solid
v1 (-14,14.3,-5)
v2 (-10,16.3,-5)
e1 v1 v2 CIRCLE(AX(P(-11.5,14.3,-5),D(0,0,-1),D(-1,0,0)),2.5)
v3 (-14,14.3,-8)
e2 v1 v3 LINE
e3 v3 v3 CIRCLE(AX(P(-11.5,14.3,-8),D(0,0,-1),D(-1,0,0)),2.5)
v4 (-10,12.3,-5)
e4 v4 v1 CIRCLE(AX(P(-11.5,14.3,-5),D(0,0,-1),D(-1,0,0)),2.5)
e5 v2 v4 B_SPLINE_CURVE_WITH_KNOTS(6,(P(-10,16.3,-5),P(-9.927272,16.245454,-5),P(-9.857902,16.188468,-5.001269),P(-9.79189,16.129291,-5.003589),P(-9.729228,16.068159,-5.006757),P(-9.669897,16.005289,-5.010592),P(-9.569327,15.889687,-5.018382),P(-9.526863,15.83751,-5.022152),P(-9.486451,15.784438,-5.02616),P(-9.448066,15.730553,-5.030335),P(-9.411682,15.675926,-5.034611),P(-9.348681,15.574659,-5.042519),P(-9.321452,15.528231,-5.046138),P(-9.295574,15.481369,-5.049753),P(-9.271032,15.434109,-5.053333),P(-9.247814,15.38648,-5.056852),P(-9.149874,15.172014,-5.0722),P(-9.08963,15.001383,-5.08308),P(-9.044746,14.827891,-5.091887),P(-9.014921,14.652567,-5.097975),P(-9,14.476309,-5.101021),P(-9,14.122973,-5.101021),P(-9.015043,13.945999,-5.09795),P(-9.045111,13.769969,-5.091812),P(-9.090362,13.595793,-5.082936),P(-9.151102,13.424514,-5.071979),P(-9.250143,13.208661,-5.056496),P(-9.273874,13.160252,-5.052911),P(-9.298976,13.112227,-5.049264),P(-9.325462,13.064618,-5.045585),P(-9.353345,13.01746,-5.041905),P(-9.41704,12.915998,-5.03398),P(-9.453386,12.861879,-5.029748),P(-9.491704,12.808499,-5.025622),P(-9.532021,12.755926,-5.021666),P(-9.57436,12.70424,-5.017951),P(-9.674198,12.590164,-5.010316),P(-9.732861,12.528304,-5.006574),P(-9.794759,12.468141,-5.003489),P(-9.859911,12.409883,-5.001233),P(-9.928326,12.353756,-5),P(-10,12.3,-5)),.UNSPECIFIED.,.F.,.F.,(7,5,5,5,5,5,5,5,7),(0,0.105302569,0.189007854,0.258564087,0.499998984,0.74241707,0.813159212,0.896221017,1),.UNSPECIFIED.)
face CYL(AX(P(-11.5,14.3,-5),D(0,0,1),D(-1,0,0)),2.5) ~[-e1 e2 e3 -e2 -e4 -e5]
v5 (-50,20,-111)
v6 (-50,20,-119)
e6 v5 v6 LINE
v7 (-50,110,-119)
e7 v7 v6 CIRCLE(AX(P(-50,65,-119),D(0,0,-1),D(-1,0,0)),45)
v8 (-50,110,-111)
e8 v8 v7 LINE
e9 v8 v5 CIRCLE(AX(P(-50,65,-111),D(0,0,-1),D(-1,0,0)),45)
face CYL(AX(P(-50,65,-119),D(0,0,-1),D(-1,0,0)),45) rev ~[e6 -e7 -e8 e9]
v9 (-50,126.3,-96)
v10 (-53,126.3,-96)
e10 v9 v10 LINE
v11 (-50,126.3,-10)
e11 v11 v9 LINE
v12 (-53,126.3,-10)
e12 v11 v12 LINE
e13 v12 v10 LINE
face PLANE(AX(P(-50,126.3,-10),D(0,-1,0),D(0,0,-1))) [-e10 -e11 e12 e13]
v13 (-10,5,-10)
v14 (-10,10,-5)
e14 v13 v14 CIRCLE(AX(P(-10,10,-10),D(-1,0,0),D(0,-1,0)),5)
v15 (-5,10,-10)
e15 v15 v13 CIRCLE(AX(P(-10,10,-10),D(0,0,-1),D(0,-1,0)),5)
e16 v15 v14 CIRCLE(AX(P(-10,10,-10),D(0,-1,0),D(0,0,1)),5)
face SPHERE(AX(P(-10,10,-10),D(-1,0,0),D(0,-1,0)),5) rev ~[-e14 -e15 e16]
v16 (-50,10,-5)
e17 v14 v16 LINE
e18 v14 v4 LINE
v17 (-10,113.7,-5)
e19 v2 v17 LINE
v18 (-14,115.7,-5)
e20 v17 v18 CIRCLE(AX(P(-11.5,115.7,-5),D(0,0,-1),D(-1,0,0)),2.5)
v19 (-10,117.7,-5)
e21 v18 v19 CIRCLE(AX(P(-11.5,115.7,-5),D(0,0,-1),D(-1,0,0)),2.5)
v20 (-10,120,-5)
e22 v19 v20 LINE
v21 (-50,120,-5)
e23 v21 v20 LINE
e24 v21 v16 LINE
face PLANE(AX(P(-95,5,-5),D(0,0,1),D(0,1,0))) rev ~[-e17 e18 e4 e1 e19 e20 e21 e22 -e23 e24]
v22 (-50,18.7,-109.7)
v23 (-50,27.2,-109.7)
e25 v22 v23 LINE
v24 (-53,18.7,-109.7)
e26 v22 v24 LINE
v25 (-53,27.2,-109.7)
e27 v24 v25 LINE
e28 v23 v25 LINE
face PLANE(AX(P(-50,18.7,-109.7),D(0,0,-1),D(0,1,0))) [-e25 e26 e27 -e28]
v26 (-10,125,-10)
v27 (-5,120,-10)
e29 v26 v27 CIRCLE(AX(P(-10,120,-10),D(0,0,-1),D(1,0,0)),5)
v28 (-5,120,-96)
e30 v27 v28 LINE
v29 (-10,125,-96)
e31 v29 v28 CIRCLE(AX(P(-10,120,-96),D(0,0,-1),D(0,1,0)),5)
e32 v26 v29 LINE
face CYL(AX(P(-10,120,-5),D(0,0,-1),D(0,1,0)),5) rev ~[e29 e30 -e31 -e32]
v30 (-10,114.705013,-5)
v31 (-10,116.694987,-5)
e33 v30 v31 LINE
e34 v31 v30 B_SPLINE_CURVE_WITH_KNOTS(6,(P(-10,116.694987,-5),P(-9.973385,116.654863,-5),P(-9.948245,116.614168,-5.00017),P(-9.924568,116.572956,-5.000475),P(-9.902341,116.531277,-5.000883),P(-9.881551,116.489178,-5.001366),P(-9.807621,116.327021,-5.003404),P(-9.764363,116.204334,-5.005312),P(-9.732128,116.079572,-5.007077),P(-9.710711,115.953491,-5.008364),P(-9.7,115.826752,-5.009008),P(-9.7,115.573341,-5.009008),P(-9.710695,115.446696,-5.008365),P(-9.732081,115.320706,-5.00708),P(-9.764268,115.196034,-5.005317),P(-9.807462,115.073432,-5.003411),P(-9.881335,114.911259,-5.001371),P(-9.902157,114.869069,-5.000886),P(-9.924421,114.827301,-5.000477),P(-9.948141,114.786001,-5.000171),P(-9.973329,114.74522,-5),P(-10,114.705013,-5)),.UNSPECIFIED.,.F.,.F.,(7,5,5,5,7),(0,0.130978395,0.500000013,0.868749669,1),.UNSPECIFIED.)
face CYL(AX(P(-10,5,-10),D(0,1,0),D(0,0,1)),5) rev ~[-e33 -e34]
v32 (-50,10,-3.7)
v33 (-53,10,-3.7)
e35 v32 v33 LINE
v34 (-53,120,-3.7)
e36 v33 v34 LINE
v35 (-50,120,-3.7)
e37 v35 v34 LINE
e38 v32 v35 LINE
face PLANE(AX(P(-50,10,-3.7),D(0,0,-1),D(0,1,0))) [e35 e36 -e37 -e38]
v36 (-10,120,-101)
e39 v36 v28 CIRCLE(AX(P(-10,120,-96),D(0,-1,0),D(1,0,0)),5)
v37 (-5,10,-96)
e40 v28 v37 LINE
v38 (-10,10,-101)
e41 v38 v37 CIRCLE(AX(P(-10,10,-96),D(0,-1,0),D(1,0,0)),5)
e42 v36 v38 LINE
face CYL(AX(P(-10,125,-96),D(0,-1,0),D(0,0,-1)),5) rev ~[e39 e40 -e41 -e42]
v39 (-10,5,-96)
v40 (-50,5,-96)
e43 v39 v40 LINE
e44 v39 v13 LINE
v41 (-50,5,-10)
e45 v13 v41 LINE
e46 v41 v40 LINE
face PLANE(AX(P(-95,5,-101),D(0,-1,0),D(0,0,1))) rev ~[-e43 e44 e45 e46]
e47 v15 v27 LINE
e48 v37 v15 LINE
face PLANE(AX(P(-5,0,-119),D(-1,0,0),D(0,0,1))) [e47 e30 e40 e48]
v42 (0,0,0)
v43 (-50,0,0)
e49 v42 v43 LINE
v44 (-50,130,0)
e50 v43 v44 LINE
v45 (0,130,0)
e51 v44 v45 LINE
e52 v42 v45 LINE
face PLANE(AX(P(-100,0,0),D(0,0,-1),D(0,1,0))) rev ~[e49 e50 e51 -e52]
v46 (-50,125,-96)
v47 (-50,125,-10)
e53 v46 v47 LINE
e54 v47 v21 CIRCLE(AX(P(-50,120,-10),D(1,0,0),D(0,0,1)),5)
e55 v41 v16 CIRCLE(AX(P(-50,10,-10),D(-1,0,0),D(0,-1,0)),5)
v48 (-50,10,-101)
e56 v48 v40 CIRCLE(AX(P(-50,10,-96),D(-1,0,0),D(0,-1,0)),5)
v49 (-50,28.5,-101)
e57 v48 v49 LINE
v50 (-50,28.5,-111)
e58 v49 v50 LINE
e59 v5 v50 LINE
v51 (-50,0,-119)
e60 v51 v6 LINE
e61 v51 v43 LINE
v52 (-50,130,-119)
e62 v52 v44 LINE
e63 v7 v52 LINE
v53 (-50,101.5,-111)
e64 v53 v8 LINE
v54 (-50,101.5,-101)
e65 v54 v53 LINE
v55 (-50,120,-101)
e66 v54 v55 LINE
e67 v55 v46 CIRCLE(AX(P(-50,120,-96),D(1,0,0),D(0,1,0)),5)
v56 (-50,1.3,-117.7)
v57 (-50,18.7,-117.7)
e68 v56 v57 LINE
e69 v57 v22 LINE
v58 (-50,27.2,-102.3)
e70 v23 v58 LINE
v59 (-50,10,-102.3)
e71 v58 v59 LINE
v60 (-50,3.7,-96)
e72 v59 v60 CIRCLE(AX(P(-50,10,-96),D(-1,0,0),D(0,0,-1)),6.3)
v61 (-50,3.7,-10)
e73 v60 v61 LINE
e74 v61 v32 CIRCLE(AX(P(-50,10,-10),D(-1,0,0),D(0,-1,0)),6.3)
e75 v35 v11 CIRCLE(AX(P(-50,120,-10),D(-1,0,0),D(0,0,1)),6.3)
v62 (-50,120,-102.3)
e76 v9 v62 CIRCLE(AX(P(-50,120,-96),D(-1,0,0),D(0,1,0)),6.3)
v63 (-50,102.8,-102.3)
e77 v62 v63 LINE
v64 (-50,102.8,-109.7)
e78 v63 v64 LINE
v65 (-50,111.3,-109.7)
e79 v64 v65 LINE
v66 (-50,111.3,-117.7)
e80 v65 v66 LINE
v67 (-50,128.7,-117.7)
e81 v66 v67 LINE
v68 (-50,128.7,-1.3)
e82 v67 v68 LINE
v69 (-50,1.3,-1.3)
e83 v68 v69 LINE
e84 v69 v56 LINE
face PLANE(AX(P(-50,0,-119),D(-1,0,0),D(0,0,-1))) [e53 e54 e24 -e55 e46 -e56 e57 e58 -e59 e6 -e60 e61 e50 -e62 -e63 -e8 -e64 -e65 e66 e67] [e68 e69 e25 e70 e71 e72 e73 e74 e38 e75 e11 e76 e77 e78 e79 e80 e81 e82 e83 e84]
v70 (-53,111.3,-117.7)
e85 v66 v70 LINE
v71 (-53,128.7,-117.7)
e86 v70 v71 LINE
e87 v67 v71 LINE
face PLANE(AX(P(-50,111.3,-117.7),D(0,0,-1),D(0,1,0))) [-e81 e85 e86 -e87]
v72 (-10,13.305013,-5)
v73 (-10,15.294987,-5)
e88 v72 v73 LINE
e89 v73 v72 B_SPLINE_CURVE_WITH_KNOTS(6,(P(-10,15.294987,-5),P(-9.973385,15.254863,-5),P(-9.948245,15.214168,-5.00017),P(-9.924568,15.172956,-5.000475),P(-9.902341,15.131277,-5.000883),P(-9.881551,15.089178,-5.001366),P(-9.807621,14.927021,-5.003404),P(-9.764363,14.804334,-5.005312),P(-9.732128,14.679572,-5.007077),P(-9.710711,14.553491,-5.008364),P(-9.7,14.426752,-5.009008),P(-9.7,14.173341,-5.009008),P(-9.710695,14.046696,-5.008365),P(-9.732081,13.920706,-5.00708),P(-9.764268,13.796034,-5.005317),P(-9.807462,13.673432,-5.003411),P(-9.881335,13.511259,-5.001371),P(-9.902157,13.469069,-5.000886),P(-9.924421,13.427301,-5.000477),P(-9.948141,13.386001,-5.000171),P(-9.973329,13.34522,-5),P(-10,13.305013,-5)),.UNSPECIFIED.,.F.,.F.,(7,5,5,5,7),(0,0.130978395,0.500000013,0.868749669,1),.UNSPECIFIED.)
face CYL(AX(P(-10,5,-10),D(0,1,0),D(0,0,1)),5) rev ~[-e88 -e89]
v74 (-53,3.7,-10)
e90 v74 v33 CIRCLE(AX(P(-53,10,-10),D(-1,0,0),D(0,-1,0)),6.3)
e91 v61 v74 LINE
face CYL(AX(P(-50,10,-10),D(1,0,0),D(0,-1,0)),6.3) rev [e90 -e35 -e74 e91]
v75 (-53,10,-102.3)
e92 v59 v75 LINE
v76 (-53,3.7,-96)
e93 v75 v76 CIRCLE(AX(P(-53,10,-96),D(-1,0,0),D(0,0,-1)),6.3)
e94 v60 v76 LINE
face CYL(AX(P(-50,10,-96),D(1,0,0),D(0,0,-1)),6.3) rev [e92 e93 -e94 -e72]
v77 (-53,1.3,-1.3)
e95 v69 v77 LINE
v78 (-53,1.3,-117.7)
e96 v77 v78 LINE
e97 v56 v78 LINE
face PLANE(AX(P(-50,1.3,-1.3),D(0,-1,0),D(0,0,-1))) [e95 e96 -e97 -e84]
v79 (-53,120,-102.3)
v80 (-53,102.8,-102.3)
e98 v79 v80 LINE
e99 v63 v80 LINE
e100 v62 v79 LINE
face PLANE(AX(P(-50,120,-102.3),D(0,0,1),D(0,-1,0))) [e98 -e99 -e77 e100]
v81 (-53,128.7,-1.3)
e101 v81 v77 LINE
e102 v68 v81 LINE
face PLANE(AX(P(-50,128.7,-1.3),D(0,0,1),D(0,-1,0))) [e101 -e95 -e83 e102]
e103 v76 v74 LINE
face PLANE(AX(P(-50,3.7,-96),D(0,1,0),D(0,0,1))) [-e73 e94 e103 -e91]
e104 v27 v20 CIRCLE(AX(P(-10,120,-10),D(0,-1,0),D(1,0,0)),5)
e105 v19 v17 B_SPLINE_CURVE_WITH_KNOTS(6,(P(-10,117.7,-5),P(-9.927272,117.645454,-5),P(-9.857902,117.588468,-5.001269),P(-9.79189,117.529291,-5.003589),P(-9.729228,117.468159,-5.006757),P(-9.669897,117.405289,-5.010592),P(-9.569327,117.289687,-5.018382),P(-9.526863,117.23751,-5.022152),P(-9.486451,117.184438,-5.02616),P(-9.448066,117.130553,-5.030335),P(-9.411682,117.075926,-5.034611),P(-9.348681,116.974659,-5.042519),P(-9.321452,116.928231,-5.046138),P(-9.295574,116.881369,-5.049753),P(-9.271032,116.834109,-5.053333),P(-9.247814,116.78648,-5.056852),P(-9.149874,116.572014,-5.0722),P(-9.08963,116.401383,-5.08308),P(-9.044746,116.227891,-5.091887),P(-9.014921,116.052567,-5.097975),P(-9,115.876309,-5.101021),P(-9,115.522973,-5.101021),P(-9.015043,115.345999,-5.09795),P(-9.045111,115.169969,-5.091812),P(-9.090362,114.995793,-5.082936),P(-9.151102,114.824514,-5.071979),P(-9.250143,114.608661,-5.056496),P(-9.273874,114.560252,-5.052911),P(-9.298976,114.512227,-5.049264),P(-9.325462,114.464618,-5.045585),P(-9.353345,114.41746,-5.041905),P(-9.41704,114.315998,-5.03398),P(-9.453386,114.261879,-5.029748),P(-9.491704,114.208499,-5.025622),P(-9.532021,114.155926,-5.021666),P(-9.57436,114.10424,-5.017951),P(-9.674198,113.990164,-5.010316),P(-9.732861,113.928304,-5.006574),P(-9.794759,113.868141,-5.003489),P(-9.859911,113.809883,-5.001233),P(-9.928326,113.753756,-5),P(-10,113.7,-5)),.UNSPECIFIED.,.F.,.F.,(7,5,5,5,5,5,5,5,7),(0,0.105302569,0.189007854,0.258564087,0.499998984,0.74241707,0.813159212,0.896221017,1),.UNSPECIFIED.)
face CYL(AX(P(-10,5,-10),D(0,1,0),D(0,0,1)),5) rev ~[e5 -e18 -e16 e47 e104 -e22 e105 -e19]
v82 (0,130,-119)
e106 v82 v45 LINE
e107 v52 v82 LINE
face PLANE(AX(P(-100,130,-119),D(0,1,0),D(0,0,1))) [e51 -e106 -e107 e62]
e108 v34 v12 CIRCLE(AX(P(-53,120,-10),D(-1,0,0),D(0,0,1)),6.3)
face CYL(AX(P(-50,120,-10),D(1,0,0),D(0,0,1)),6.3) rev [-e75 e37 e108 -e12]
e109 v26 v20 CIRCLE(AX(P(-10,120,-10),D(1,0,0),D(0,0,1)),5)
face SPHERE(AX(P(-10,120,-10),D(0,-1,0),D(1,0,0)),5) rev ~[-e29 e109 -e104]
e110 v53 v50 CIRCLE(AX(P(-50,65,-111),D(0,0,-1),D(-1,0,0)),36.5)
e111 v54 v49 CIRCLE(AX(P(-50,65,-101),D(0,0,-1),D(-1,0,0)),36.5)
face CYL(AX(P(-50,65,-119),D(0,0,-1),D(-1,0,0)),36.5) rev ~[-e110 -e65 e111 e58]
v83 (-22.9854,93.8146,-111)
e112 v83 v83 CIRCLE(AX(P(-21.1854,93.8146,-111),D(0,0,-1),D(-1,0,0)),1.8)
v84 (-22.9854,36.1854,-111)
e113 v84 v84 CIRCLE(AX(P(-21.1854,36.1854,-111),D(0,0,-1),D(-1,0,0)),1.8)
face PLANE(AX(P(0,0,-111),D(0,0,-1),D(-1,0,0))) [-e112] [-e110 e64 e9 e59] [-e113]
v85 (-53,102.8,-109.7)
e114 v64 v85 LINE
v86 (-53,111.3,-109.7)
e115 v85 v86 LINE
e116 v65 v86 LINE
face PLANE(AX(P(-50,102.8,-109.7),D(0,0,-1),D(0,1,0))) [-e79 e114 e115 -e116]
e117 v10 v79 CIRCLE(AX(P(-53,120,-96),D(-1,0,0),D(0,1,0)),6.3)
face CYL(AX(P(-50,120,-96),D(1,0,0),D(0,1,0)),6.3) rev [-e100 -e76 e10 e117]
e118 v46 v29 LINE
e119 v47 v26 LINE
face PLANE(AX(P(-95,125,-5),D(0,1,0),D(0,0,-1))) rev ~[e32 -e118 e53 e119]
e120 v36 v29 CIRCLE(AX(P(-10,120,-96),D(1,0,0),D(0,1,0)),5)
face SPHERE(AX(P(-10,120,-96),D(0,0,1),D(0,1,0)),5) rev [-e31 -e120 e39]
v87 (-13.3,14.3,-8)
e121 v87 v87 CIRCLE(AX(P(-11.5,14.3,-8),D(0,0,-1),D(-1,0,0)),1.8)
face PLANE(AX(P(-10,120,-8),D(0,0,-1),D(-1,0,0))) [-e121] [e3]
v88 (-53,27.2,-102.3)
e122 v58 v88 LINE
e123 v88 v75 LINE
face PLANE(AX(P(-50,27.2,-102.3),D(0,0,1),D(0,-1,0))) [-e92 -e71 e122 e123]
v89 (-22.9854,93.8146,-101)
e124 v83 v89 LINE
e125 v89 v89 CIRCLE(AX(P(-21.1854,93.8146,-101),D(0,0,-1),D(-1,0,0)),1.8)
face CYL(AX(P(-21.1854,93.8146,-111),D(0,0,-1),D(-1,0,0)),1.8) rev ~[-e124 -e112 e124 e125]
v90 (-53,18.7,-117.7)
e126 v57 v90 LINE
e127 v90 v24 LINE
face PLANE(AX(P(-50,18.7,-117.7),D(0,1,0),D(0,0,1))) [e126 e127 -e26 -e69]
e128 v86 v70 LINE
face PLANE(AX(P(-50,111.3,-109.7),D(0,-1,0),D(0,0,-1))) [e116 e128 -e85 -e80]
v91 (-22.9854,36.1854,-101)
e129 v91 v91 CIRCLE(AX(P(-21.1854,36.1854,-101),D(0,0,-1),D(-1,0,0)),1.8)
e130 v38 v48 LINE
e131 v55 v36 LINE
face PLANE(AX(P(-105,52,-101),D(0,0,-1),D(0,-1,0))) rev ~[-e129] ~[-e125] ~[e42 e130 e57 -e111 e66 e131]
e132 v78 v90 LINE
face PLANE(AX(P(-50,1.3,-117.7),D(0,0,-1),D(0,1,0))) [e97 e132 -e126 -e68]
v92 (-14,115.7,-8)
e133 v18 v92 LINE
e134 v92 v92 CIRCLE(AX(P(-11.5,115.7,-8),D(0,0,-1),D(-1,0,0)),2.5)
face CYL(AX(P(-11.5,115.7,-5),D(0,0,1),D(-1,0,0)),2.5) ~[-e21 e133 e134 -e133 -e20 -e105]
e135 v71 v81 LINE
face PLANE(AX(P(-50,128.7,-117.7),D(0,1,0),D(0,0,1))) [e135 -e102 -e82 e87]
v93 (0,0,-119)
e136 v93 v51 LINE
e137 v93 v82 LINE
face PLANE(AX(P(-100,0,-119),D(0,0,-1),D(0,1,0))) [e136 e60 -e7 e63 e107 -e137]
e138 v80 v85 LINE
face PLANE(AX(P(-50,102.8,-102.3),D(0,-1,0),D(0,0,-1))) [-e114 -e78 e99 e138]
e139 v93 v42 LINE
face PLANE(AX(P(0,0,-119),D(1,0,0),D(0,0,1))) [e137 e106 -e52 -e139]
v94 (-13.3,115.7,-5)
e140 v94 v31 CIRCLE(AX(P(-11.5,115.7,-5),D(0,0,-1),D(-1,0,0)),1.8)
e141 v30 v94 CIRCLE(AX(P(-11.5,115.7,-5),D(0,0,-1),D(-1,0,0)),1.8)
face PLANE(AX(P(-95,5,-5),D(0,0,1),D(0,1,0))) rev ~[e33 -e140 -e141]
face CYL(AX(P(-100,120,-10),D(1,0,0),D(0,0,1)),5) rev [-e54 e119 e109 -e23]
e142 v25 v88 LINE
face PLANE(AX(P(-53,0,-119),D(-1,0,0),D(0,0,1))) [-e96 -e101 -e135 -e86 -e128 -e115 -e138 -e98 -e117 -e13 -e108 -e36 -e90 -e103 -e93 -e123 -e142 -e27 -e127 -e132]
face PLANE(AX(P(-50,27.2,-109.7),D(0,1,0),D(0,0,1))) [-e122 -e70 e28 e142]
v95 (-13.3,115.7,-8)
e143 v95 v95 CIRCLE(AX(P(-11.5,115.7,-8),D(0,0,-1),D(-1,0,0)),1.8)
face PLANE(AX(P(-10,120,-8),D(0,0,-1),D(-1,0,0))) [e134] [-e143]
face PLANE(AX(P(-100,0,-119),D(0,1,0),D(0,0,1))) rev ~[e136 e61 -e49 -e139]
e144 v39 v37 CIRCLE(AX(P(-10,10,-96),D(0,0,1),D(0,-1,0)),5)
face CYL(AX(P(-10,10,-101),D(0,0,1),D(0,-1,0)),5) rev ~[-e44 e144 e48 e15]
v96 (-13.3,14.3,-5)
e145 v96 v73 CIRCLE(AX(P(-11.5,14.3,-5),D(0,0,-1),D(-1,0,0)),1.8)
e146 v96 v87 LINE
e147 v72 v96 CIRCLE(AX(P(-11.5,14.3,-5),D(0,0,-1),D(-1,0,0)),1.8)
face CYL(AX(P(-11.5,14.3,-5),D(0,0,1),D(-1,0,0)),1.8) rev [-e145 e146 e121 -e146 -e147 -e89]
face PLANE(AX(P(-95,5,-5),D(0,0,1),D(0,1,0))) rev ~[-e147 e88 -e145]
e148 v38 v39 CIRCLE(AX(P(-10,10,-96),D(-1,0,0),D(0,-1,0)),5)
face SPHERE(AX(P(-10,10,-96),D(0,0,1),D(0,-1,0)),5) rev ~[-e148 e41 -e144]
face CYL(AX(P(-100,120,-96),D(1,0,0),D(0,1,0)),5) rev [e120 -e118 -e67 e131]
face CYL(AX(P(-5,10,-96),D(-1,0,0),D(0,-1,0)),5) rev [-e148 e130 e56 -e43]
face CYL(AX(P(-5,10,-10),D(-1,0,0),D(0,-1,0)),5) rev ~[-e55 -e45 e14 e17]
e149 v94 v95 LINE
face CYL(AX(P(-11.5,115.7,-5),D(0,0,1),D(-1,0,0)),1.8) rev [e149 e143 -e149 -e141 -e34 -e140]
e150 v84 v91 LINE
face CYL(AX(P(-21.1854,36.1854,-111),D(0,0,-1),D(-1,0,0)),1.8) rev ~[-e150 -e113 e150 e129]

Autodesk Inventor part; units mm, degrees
ref_plane "YZ Plane" through (0, 0, 0) normal (1, 0, 0) x (0, 1, 0)
sketch "Sketch1" plane through (0, 0, 0) normal (0, 1, 0) x (-1, 0, 0)
  line L0 (0, 0) -> (100, 0)
  line L1 (100, 0) -> (100, -119)
  line L2 (100, -119) -> (0, -119)
  line L3 (0, -119) -> (0, 0)
  dimension "d0" = 119
  dimension "d1" = 100
extrude "Extrusion1" add sketch "Sketch1" along normal blind 130
sketch "Sketch2" plane through (0, 0, -119) normal (0, 0, -1) x (-1, 0, 0)
  circle A0 centre (50, 65) radius 45
  line L0 (100, 0) -> (100, 130) projected
  line L1 (0, 0) -> (0, 130) projected
  line L2 (0, 0) -> (100, 0) projected
  line L3 (0, 130) -> (100, 130) projected
  circle A1 centre (50, 65) radius 36.5
  circle A2 centre (28.0236, 99.1226) radius 1.9
  line L4 (25.6342, 102.8326) -> (74.3658, 27.1674) construction
  line L5 (12.1674, 40.6342) -> (87.8326, 89.3658) construction
  dimension "d6" = 90
  dimension "d7" = 100
  dimension "d8" = 50
  dimension "d9" = 65
  dimension "d10" = 130
  dimension "d11" = 73
  dimension "d12" = 3.8
extrude "Extrusion2" cut sketch "Sketch2" against normal blind 8 contours A0 | A1 | A2
extrude "Extrusion3" cut sketch "Sketch2" against normal blind 18 contours A1
ref_plane "Work Plane1" through (-95, 0, -119) normal (-1, 0, 0) x (0, 0, 1)
sketch "Sketch3" plane through (-95, 0, -119) normal (-1, 0, 0) x (0, 0, 1)
  line L0 (18, 28.5) -> (18, 101.5) projected
  line L1 (119, 130) -> (119, 0) projected
  line L2 (119, 0) -> (0, 0) projected
  line L3 (0, 0) -> (0, 65) projected
  line L4 (8, 65) -> (0, 65) projected
  line L5 (0, 130) -> (119, 130) projected
  line L6 (0, 65) -> (0, 130) projected
  line L7 (114, 125) -> (18, 125)
  line L8 (18, 125) -> (18, 5)
  line L9 (18, 5) -> (114, 5)
  line L10 (114, 5) -> (114, 125)
  dimension "d16" = 5
  dimension "d17" = 5
  dimension "d18" = 5
extrude "Extrusion4" cut sketch "Sketch3" against normal blind 90 and the other way blind 90 contours L0 L8 L7 L10 L9
fillet "Fillet1" radius 5 8 edges at (-52.5, 5, -5) (-5, 5, -53) (-5, 65, -5) (-5, 125, -53) (-52.5, 125, -5) (-52.5, 5, -101) (-52.5, 125, -101) (-5, 65, -101)
sketch "Sketch8" plane through (-100, 0, -119) normal (-1, 0, 0) x (0, 0, 1)
  point P0 (119, 0)
sketch "Sketch10" plane through (-100, 0, -119) normal (-1, 0, 0) x (0, 0, 1)
  line L0 (0, 0) -> (119, 0) projected
  line L1 (119, 0) -> (119, 130) projected
  line L2 (0, 130) -> (119, 130) projected
  line L3 (0, 0) -> (0, 130) projected
extrude "Extrusion10" add sketch "Sketch10" along normal blind 5
sketch "Sketch12" plane through (0, 130, 0) normal (0, 1, 0) x (1, 0, 0)
  line L0 (0, 119) -> (-105, 119) projected
  line L1 (-105, 0) -> (-105, 119) projected
  line L2 (0, 0) -> (-105, 0) projected
  line L3 (0, 0) -> (0, 119) projected
  line L4 (-105, 0) -> (-100, 0)
  line L5 (-100, 0) -> (-100, 119)
  line L6 (-100, 119) -> (-105, 119)
  line L7 (-105, 119) -> (-105, 0)
  line L8 (-100, 20) -> (-105, 25)
  line L9 (-105, 40) -> (-100, 45)
  line L10 (-105, 94) -> (-100, 99)
  line L11 (-100, 74) -> (-105, 79)
  dimension "d82" = 119
  dimension "d86" = 5
  dimension "d87" = 45
  dimension "d88" = 45
  dimension "d90" = 45
  dimension "d91" = 45
  dimension "d92" = 20
  dimension "d93" = 25
  dimension "d94" = 20
  dimension "d95" = 25
extrude "Extrusion11" cut sketch "Sketch12" against normal blind 127 contours L5 L11 L1 L10 | L8 L1 L9 L5
fillet "Fillet2" radius 1 8 edges at (-105, 66.5, -25) (-100, 127.5, -20) (-105, 66.5, -40) (-100, 127.5, -45) (-105, 66.5, -79) (-100, 127.5, -74) (-105, 66.5, -94) (-100, 127, -99)
sketch "Sketch13" plane through (-10, 120, -5) normal (0, 0, -1) x (-1, 0, 0)
  line L0 (82.5, 0) -> (-2.5, 0)
  line L1 (-2.5, 0) -> (-2.5, -110)
  line L2 (-2.5, -110) -> (82.5, -110)
  line L3 (82.5, -110) -> (82.5, 0)
  line L4 (-5, 0) -> (-5, -110) projected
  line L5 (85, -110) -> (85, 0) projected
  circle A0 centre (78.5, -4.3) radius 1.8
  circle A1 centre (78.5, -4.3) radius 2.5
  line L6 (78.5, -4.3) -> (78.5, -140.0823) construction
  line L7 (78.5, -4.3) -> (-34.9987, -4.3) construction
  line L8 (1.5, 27.6777) -> (1.5, -220.2724) construction
  line L9 (-45.8754, -105.7) -> (99.6232, -105.7) construction
  line L10 (80, 5) -> (0, 5) construction
  line L11 (0, -115) -> (80, -115) construction
  circle A2 centre (78.5, -105.7) radius 1.8
  circle A3 centre (78.5, -105.7) radius 2.5
  circle A4 centre (1.5, -105.7) radius 1.8
  circle A5 centre (1.5, -105.7) radius 2.5
  circle A6 centre (1.5, -4.3) radius 1.8
  circle A7 centre (1.5, -4.3) radius 2.5
  point P0 (-10, -120)
  dimension "d97" = 85
  dimension "d98" = 110
  dimension "d99" = 90
  dimension "d100" = 2.5
  dimension "d101" = 4
  dimension "d102" = 4.3
  dimension "d103" = 3.6
  dimension "d104" = 5
  dimension "d105" = 4.3
  dimension "d107" = 120
  dimension "d108" = 5
  dimension "d109" = 4
  dimension "d110" = 3.6
  dimension "d111" = 5
  dimension "d112" = 3.6
  dimension "d113" = 5
  dimension "d114" = 3.6
  dimension "d115" = 5
extrude "Extrusion12" add sketch "Sketch13" along normal blind 3 contours A1 | A3 | A5 | A7
sketch "Sketch14" plane through (-105, 0, -119) normal (-1, 0, 0) x (0, 0, 1)
  line L0 (19.5, 52) -> (19.5, 34) construction
  line L1 (18, 52) -> (18, 34)
  line L2 (21, 34) -> (21, 52)
  arc A0 (21, 52) -> (18, 52) centre (19.5, 52) ccw
  arc A1 (18, 34) -> (21, 34) centre (19.5, 34) ccw
  line L3 (0, 130) -> (0, 0) projected
  line L4 (0, 0) -> (119, 0) projected
  point P0 (19.5, 43)
  dimension "d118" = 18
  dimension "d119" = 3
  dimension "d121" = 18
  dimension "d122" = 34
extrude "Extrusion13" cut sketch "Sketch14" against normal blind 20
sketch "Sketch15" plane through (-50, 65, -111) normal (0, 0, -1) x (-1, 0, 0)
  circle A0 centre (0, 0) radius 45 construction
  line L0 (31.8198, 31.8198) -> (-31.8198, -31.8198) construction
  line L1 (31.8198, -31.8198) -> (-31.8198, 31.8198) construction
  circle A1 centre (0, 0) radius 36.5 construction
  circle A2 centre (0, 0) radius 40.75 construction
  line L2 (0, -45) -> (0, 45) construction
  line L3 (-40, -60) -> (40, -60) construction
  circle A3 centre (28.8146, 28.8146) radius 1.8
  circle A4 centre (-28.8146, 28.8146) radius 1.8
  circle A5 centre (28.8146, -28.8146) radius 1.8
  circle A6 centre (-28.8146, -28.8146) radius 1.8
  point P0 (-50, -65)
  dimension "d125" = 45
  dimension "d126" = 73
  dimension "d129" = 90
  dimension "d130" = 4.25
  dimension "d131" = 3.6
  dimension "d135" = 3.6
  dimension "d136" = 3.6
  dimension "d137" = 3.6
extrude "Extrusion14" cut sketch "Sketch15" against normal blind 40
ref_plane "Work Plane2" through (-50, 0, -119) normal (-1, 0, 0) x (0, 0, 1)
split "Split1" plane through (-50, 0, -119) removes the side toward (-1, 0, 0)
sketch "Sketch18" plane through (-50, 0, -119) normal (-1, 0, 0) x (0, 0, 1)
  line L0 (8, 110) -> (0, 110) projected
  line L1 (8, 101.5) -> (8, 110) projected
  line L2 (18, 101.5) -> (8, 101.5) projected
  line L3 (18, 120) -> (18, 101.5) projected
  arc A0 (23, 125) -> (18, 120) centre (23, 120) ccw projected
  line L4 (109, 125) -> (23, 125) projected
  arc A1 (114, 120) -> (109, 125) centre (109, 120) ccw projected
  line L5 (114, 10) -> (114, 120) projected
  arc A2 (109, 5) -> (114, 10) centre (109, 10) ccw projected
  line L6 (23, 5) -> (109, 5) projected
  arc A3 (18, 10) -> (23, 5) centre (23, 10) ccw projected
  line L7 (18, 28.5) -> (18, 10) projected
  line L8 (8, 28.5) -> (18, 28.5) projected
  line L9 (8, 20) -> (8, 28.5) projected
  line L10 (0, 20) -> (8, 20) projected
  line L11 (0, 0) -> (0, 20) projected
  line L12 (119, 0) -> (0, 0) projected
  line L13 (119, 130) -> (119, 0) projected
  line L14 (0, 130) -> (119, 130) projected
  line L15 (0, 110) -> (0, 130) projected
  line L16 (117.7, 1.3) -> (1.3, 1.3)
  line L17 (1.3, 1.3) -> (1.3, 18.7)
  line L18 (1.3, 18.7) -> (9.3, 18.7)
  line L19 (9.3, 18.7) -> (9.3, 27.2)
  line L20 (9.3, 27.2) -> (16.7, 27.2)
  line L21 (16.7, 27.2) -> (16.7, 10)
  arc A4 (16.7, 10) -> (23, 3.7) centre (23, 10) ccw
  line L22 (23, 3.7) -> (109, 3.7)
  arc A5 (109, 3.7) -> (115.3, 10) centre (109, 10) ccw
  line L23 (115.3, 10) -> (115.3, 120)
  arc A6 (115.3, 120) -> (109, 126.3) centre (109, 120) ccw
  line L24 (109, 126.3) -> (23, 126.3)
  arc A7 (23, 126.3) -> (16.7, 120) centre (23, 120) ccw
  line L25 (16.7, 120) -> (16.7, 102.8)
  line L26 (16.7, 102.8) -> (9.3, 102.8)
  line L27 (9.3, 102.8) -> (9.3, 111.3)
  line L28 (9.3, 111.3) -> (1.3, 111.3)
  line L29 (1.3, 111.3) -> (1.3, 128.7)
  line L30 (1.3, 128.7) -> (117.7, 128.7)
  line L31 (117.7, 128.7) -> (117.7, 1.3)
  dimension "d140" = 1.3
extrude "Extrusion15" add sketch "Sketch18" along normal blind 3 contours L16 L17 L18 L19 L20 L21 A4 L22 A5 L23 A6 L24 A7 L25 L26 L27 L28 L29 L30 L31
equation "\"d8\" = 0.5 * d7"
equation "\"d9\" = 0.5 * d10"
equation "\"d100\" = -0.5 * d97 + 0.5 * d99"
equation "\"d108\" = -0.5 * d98 + 0.5 * d107"
equation "\"d130\" = -0.25 * d126 + 0.25 * d129"
equation "\"d135\" = d131"
equation "\"d136\" = d131"
equation "\"d137\" = d131"
properties part number "wooferBoxTongue"
